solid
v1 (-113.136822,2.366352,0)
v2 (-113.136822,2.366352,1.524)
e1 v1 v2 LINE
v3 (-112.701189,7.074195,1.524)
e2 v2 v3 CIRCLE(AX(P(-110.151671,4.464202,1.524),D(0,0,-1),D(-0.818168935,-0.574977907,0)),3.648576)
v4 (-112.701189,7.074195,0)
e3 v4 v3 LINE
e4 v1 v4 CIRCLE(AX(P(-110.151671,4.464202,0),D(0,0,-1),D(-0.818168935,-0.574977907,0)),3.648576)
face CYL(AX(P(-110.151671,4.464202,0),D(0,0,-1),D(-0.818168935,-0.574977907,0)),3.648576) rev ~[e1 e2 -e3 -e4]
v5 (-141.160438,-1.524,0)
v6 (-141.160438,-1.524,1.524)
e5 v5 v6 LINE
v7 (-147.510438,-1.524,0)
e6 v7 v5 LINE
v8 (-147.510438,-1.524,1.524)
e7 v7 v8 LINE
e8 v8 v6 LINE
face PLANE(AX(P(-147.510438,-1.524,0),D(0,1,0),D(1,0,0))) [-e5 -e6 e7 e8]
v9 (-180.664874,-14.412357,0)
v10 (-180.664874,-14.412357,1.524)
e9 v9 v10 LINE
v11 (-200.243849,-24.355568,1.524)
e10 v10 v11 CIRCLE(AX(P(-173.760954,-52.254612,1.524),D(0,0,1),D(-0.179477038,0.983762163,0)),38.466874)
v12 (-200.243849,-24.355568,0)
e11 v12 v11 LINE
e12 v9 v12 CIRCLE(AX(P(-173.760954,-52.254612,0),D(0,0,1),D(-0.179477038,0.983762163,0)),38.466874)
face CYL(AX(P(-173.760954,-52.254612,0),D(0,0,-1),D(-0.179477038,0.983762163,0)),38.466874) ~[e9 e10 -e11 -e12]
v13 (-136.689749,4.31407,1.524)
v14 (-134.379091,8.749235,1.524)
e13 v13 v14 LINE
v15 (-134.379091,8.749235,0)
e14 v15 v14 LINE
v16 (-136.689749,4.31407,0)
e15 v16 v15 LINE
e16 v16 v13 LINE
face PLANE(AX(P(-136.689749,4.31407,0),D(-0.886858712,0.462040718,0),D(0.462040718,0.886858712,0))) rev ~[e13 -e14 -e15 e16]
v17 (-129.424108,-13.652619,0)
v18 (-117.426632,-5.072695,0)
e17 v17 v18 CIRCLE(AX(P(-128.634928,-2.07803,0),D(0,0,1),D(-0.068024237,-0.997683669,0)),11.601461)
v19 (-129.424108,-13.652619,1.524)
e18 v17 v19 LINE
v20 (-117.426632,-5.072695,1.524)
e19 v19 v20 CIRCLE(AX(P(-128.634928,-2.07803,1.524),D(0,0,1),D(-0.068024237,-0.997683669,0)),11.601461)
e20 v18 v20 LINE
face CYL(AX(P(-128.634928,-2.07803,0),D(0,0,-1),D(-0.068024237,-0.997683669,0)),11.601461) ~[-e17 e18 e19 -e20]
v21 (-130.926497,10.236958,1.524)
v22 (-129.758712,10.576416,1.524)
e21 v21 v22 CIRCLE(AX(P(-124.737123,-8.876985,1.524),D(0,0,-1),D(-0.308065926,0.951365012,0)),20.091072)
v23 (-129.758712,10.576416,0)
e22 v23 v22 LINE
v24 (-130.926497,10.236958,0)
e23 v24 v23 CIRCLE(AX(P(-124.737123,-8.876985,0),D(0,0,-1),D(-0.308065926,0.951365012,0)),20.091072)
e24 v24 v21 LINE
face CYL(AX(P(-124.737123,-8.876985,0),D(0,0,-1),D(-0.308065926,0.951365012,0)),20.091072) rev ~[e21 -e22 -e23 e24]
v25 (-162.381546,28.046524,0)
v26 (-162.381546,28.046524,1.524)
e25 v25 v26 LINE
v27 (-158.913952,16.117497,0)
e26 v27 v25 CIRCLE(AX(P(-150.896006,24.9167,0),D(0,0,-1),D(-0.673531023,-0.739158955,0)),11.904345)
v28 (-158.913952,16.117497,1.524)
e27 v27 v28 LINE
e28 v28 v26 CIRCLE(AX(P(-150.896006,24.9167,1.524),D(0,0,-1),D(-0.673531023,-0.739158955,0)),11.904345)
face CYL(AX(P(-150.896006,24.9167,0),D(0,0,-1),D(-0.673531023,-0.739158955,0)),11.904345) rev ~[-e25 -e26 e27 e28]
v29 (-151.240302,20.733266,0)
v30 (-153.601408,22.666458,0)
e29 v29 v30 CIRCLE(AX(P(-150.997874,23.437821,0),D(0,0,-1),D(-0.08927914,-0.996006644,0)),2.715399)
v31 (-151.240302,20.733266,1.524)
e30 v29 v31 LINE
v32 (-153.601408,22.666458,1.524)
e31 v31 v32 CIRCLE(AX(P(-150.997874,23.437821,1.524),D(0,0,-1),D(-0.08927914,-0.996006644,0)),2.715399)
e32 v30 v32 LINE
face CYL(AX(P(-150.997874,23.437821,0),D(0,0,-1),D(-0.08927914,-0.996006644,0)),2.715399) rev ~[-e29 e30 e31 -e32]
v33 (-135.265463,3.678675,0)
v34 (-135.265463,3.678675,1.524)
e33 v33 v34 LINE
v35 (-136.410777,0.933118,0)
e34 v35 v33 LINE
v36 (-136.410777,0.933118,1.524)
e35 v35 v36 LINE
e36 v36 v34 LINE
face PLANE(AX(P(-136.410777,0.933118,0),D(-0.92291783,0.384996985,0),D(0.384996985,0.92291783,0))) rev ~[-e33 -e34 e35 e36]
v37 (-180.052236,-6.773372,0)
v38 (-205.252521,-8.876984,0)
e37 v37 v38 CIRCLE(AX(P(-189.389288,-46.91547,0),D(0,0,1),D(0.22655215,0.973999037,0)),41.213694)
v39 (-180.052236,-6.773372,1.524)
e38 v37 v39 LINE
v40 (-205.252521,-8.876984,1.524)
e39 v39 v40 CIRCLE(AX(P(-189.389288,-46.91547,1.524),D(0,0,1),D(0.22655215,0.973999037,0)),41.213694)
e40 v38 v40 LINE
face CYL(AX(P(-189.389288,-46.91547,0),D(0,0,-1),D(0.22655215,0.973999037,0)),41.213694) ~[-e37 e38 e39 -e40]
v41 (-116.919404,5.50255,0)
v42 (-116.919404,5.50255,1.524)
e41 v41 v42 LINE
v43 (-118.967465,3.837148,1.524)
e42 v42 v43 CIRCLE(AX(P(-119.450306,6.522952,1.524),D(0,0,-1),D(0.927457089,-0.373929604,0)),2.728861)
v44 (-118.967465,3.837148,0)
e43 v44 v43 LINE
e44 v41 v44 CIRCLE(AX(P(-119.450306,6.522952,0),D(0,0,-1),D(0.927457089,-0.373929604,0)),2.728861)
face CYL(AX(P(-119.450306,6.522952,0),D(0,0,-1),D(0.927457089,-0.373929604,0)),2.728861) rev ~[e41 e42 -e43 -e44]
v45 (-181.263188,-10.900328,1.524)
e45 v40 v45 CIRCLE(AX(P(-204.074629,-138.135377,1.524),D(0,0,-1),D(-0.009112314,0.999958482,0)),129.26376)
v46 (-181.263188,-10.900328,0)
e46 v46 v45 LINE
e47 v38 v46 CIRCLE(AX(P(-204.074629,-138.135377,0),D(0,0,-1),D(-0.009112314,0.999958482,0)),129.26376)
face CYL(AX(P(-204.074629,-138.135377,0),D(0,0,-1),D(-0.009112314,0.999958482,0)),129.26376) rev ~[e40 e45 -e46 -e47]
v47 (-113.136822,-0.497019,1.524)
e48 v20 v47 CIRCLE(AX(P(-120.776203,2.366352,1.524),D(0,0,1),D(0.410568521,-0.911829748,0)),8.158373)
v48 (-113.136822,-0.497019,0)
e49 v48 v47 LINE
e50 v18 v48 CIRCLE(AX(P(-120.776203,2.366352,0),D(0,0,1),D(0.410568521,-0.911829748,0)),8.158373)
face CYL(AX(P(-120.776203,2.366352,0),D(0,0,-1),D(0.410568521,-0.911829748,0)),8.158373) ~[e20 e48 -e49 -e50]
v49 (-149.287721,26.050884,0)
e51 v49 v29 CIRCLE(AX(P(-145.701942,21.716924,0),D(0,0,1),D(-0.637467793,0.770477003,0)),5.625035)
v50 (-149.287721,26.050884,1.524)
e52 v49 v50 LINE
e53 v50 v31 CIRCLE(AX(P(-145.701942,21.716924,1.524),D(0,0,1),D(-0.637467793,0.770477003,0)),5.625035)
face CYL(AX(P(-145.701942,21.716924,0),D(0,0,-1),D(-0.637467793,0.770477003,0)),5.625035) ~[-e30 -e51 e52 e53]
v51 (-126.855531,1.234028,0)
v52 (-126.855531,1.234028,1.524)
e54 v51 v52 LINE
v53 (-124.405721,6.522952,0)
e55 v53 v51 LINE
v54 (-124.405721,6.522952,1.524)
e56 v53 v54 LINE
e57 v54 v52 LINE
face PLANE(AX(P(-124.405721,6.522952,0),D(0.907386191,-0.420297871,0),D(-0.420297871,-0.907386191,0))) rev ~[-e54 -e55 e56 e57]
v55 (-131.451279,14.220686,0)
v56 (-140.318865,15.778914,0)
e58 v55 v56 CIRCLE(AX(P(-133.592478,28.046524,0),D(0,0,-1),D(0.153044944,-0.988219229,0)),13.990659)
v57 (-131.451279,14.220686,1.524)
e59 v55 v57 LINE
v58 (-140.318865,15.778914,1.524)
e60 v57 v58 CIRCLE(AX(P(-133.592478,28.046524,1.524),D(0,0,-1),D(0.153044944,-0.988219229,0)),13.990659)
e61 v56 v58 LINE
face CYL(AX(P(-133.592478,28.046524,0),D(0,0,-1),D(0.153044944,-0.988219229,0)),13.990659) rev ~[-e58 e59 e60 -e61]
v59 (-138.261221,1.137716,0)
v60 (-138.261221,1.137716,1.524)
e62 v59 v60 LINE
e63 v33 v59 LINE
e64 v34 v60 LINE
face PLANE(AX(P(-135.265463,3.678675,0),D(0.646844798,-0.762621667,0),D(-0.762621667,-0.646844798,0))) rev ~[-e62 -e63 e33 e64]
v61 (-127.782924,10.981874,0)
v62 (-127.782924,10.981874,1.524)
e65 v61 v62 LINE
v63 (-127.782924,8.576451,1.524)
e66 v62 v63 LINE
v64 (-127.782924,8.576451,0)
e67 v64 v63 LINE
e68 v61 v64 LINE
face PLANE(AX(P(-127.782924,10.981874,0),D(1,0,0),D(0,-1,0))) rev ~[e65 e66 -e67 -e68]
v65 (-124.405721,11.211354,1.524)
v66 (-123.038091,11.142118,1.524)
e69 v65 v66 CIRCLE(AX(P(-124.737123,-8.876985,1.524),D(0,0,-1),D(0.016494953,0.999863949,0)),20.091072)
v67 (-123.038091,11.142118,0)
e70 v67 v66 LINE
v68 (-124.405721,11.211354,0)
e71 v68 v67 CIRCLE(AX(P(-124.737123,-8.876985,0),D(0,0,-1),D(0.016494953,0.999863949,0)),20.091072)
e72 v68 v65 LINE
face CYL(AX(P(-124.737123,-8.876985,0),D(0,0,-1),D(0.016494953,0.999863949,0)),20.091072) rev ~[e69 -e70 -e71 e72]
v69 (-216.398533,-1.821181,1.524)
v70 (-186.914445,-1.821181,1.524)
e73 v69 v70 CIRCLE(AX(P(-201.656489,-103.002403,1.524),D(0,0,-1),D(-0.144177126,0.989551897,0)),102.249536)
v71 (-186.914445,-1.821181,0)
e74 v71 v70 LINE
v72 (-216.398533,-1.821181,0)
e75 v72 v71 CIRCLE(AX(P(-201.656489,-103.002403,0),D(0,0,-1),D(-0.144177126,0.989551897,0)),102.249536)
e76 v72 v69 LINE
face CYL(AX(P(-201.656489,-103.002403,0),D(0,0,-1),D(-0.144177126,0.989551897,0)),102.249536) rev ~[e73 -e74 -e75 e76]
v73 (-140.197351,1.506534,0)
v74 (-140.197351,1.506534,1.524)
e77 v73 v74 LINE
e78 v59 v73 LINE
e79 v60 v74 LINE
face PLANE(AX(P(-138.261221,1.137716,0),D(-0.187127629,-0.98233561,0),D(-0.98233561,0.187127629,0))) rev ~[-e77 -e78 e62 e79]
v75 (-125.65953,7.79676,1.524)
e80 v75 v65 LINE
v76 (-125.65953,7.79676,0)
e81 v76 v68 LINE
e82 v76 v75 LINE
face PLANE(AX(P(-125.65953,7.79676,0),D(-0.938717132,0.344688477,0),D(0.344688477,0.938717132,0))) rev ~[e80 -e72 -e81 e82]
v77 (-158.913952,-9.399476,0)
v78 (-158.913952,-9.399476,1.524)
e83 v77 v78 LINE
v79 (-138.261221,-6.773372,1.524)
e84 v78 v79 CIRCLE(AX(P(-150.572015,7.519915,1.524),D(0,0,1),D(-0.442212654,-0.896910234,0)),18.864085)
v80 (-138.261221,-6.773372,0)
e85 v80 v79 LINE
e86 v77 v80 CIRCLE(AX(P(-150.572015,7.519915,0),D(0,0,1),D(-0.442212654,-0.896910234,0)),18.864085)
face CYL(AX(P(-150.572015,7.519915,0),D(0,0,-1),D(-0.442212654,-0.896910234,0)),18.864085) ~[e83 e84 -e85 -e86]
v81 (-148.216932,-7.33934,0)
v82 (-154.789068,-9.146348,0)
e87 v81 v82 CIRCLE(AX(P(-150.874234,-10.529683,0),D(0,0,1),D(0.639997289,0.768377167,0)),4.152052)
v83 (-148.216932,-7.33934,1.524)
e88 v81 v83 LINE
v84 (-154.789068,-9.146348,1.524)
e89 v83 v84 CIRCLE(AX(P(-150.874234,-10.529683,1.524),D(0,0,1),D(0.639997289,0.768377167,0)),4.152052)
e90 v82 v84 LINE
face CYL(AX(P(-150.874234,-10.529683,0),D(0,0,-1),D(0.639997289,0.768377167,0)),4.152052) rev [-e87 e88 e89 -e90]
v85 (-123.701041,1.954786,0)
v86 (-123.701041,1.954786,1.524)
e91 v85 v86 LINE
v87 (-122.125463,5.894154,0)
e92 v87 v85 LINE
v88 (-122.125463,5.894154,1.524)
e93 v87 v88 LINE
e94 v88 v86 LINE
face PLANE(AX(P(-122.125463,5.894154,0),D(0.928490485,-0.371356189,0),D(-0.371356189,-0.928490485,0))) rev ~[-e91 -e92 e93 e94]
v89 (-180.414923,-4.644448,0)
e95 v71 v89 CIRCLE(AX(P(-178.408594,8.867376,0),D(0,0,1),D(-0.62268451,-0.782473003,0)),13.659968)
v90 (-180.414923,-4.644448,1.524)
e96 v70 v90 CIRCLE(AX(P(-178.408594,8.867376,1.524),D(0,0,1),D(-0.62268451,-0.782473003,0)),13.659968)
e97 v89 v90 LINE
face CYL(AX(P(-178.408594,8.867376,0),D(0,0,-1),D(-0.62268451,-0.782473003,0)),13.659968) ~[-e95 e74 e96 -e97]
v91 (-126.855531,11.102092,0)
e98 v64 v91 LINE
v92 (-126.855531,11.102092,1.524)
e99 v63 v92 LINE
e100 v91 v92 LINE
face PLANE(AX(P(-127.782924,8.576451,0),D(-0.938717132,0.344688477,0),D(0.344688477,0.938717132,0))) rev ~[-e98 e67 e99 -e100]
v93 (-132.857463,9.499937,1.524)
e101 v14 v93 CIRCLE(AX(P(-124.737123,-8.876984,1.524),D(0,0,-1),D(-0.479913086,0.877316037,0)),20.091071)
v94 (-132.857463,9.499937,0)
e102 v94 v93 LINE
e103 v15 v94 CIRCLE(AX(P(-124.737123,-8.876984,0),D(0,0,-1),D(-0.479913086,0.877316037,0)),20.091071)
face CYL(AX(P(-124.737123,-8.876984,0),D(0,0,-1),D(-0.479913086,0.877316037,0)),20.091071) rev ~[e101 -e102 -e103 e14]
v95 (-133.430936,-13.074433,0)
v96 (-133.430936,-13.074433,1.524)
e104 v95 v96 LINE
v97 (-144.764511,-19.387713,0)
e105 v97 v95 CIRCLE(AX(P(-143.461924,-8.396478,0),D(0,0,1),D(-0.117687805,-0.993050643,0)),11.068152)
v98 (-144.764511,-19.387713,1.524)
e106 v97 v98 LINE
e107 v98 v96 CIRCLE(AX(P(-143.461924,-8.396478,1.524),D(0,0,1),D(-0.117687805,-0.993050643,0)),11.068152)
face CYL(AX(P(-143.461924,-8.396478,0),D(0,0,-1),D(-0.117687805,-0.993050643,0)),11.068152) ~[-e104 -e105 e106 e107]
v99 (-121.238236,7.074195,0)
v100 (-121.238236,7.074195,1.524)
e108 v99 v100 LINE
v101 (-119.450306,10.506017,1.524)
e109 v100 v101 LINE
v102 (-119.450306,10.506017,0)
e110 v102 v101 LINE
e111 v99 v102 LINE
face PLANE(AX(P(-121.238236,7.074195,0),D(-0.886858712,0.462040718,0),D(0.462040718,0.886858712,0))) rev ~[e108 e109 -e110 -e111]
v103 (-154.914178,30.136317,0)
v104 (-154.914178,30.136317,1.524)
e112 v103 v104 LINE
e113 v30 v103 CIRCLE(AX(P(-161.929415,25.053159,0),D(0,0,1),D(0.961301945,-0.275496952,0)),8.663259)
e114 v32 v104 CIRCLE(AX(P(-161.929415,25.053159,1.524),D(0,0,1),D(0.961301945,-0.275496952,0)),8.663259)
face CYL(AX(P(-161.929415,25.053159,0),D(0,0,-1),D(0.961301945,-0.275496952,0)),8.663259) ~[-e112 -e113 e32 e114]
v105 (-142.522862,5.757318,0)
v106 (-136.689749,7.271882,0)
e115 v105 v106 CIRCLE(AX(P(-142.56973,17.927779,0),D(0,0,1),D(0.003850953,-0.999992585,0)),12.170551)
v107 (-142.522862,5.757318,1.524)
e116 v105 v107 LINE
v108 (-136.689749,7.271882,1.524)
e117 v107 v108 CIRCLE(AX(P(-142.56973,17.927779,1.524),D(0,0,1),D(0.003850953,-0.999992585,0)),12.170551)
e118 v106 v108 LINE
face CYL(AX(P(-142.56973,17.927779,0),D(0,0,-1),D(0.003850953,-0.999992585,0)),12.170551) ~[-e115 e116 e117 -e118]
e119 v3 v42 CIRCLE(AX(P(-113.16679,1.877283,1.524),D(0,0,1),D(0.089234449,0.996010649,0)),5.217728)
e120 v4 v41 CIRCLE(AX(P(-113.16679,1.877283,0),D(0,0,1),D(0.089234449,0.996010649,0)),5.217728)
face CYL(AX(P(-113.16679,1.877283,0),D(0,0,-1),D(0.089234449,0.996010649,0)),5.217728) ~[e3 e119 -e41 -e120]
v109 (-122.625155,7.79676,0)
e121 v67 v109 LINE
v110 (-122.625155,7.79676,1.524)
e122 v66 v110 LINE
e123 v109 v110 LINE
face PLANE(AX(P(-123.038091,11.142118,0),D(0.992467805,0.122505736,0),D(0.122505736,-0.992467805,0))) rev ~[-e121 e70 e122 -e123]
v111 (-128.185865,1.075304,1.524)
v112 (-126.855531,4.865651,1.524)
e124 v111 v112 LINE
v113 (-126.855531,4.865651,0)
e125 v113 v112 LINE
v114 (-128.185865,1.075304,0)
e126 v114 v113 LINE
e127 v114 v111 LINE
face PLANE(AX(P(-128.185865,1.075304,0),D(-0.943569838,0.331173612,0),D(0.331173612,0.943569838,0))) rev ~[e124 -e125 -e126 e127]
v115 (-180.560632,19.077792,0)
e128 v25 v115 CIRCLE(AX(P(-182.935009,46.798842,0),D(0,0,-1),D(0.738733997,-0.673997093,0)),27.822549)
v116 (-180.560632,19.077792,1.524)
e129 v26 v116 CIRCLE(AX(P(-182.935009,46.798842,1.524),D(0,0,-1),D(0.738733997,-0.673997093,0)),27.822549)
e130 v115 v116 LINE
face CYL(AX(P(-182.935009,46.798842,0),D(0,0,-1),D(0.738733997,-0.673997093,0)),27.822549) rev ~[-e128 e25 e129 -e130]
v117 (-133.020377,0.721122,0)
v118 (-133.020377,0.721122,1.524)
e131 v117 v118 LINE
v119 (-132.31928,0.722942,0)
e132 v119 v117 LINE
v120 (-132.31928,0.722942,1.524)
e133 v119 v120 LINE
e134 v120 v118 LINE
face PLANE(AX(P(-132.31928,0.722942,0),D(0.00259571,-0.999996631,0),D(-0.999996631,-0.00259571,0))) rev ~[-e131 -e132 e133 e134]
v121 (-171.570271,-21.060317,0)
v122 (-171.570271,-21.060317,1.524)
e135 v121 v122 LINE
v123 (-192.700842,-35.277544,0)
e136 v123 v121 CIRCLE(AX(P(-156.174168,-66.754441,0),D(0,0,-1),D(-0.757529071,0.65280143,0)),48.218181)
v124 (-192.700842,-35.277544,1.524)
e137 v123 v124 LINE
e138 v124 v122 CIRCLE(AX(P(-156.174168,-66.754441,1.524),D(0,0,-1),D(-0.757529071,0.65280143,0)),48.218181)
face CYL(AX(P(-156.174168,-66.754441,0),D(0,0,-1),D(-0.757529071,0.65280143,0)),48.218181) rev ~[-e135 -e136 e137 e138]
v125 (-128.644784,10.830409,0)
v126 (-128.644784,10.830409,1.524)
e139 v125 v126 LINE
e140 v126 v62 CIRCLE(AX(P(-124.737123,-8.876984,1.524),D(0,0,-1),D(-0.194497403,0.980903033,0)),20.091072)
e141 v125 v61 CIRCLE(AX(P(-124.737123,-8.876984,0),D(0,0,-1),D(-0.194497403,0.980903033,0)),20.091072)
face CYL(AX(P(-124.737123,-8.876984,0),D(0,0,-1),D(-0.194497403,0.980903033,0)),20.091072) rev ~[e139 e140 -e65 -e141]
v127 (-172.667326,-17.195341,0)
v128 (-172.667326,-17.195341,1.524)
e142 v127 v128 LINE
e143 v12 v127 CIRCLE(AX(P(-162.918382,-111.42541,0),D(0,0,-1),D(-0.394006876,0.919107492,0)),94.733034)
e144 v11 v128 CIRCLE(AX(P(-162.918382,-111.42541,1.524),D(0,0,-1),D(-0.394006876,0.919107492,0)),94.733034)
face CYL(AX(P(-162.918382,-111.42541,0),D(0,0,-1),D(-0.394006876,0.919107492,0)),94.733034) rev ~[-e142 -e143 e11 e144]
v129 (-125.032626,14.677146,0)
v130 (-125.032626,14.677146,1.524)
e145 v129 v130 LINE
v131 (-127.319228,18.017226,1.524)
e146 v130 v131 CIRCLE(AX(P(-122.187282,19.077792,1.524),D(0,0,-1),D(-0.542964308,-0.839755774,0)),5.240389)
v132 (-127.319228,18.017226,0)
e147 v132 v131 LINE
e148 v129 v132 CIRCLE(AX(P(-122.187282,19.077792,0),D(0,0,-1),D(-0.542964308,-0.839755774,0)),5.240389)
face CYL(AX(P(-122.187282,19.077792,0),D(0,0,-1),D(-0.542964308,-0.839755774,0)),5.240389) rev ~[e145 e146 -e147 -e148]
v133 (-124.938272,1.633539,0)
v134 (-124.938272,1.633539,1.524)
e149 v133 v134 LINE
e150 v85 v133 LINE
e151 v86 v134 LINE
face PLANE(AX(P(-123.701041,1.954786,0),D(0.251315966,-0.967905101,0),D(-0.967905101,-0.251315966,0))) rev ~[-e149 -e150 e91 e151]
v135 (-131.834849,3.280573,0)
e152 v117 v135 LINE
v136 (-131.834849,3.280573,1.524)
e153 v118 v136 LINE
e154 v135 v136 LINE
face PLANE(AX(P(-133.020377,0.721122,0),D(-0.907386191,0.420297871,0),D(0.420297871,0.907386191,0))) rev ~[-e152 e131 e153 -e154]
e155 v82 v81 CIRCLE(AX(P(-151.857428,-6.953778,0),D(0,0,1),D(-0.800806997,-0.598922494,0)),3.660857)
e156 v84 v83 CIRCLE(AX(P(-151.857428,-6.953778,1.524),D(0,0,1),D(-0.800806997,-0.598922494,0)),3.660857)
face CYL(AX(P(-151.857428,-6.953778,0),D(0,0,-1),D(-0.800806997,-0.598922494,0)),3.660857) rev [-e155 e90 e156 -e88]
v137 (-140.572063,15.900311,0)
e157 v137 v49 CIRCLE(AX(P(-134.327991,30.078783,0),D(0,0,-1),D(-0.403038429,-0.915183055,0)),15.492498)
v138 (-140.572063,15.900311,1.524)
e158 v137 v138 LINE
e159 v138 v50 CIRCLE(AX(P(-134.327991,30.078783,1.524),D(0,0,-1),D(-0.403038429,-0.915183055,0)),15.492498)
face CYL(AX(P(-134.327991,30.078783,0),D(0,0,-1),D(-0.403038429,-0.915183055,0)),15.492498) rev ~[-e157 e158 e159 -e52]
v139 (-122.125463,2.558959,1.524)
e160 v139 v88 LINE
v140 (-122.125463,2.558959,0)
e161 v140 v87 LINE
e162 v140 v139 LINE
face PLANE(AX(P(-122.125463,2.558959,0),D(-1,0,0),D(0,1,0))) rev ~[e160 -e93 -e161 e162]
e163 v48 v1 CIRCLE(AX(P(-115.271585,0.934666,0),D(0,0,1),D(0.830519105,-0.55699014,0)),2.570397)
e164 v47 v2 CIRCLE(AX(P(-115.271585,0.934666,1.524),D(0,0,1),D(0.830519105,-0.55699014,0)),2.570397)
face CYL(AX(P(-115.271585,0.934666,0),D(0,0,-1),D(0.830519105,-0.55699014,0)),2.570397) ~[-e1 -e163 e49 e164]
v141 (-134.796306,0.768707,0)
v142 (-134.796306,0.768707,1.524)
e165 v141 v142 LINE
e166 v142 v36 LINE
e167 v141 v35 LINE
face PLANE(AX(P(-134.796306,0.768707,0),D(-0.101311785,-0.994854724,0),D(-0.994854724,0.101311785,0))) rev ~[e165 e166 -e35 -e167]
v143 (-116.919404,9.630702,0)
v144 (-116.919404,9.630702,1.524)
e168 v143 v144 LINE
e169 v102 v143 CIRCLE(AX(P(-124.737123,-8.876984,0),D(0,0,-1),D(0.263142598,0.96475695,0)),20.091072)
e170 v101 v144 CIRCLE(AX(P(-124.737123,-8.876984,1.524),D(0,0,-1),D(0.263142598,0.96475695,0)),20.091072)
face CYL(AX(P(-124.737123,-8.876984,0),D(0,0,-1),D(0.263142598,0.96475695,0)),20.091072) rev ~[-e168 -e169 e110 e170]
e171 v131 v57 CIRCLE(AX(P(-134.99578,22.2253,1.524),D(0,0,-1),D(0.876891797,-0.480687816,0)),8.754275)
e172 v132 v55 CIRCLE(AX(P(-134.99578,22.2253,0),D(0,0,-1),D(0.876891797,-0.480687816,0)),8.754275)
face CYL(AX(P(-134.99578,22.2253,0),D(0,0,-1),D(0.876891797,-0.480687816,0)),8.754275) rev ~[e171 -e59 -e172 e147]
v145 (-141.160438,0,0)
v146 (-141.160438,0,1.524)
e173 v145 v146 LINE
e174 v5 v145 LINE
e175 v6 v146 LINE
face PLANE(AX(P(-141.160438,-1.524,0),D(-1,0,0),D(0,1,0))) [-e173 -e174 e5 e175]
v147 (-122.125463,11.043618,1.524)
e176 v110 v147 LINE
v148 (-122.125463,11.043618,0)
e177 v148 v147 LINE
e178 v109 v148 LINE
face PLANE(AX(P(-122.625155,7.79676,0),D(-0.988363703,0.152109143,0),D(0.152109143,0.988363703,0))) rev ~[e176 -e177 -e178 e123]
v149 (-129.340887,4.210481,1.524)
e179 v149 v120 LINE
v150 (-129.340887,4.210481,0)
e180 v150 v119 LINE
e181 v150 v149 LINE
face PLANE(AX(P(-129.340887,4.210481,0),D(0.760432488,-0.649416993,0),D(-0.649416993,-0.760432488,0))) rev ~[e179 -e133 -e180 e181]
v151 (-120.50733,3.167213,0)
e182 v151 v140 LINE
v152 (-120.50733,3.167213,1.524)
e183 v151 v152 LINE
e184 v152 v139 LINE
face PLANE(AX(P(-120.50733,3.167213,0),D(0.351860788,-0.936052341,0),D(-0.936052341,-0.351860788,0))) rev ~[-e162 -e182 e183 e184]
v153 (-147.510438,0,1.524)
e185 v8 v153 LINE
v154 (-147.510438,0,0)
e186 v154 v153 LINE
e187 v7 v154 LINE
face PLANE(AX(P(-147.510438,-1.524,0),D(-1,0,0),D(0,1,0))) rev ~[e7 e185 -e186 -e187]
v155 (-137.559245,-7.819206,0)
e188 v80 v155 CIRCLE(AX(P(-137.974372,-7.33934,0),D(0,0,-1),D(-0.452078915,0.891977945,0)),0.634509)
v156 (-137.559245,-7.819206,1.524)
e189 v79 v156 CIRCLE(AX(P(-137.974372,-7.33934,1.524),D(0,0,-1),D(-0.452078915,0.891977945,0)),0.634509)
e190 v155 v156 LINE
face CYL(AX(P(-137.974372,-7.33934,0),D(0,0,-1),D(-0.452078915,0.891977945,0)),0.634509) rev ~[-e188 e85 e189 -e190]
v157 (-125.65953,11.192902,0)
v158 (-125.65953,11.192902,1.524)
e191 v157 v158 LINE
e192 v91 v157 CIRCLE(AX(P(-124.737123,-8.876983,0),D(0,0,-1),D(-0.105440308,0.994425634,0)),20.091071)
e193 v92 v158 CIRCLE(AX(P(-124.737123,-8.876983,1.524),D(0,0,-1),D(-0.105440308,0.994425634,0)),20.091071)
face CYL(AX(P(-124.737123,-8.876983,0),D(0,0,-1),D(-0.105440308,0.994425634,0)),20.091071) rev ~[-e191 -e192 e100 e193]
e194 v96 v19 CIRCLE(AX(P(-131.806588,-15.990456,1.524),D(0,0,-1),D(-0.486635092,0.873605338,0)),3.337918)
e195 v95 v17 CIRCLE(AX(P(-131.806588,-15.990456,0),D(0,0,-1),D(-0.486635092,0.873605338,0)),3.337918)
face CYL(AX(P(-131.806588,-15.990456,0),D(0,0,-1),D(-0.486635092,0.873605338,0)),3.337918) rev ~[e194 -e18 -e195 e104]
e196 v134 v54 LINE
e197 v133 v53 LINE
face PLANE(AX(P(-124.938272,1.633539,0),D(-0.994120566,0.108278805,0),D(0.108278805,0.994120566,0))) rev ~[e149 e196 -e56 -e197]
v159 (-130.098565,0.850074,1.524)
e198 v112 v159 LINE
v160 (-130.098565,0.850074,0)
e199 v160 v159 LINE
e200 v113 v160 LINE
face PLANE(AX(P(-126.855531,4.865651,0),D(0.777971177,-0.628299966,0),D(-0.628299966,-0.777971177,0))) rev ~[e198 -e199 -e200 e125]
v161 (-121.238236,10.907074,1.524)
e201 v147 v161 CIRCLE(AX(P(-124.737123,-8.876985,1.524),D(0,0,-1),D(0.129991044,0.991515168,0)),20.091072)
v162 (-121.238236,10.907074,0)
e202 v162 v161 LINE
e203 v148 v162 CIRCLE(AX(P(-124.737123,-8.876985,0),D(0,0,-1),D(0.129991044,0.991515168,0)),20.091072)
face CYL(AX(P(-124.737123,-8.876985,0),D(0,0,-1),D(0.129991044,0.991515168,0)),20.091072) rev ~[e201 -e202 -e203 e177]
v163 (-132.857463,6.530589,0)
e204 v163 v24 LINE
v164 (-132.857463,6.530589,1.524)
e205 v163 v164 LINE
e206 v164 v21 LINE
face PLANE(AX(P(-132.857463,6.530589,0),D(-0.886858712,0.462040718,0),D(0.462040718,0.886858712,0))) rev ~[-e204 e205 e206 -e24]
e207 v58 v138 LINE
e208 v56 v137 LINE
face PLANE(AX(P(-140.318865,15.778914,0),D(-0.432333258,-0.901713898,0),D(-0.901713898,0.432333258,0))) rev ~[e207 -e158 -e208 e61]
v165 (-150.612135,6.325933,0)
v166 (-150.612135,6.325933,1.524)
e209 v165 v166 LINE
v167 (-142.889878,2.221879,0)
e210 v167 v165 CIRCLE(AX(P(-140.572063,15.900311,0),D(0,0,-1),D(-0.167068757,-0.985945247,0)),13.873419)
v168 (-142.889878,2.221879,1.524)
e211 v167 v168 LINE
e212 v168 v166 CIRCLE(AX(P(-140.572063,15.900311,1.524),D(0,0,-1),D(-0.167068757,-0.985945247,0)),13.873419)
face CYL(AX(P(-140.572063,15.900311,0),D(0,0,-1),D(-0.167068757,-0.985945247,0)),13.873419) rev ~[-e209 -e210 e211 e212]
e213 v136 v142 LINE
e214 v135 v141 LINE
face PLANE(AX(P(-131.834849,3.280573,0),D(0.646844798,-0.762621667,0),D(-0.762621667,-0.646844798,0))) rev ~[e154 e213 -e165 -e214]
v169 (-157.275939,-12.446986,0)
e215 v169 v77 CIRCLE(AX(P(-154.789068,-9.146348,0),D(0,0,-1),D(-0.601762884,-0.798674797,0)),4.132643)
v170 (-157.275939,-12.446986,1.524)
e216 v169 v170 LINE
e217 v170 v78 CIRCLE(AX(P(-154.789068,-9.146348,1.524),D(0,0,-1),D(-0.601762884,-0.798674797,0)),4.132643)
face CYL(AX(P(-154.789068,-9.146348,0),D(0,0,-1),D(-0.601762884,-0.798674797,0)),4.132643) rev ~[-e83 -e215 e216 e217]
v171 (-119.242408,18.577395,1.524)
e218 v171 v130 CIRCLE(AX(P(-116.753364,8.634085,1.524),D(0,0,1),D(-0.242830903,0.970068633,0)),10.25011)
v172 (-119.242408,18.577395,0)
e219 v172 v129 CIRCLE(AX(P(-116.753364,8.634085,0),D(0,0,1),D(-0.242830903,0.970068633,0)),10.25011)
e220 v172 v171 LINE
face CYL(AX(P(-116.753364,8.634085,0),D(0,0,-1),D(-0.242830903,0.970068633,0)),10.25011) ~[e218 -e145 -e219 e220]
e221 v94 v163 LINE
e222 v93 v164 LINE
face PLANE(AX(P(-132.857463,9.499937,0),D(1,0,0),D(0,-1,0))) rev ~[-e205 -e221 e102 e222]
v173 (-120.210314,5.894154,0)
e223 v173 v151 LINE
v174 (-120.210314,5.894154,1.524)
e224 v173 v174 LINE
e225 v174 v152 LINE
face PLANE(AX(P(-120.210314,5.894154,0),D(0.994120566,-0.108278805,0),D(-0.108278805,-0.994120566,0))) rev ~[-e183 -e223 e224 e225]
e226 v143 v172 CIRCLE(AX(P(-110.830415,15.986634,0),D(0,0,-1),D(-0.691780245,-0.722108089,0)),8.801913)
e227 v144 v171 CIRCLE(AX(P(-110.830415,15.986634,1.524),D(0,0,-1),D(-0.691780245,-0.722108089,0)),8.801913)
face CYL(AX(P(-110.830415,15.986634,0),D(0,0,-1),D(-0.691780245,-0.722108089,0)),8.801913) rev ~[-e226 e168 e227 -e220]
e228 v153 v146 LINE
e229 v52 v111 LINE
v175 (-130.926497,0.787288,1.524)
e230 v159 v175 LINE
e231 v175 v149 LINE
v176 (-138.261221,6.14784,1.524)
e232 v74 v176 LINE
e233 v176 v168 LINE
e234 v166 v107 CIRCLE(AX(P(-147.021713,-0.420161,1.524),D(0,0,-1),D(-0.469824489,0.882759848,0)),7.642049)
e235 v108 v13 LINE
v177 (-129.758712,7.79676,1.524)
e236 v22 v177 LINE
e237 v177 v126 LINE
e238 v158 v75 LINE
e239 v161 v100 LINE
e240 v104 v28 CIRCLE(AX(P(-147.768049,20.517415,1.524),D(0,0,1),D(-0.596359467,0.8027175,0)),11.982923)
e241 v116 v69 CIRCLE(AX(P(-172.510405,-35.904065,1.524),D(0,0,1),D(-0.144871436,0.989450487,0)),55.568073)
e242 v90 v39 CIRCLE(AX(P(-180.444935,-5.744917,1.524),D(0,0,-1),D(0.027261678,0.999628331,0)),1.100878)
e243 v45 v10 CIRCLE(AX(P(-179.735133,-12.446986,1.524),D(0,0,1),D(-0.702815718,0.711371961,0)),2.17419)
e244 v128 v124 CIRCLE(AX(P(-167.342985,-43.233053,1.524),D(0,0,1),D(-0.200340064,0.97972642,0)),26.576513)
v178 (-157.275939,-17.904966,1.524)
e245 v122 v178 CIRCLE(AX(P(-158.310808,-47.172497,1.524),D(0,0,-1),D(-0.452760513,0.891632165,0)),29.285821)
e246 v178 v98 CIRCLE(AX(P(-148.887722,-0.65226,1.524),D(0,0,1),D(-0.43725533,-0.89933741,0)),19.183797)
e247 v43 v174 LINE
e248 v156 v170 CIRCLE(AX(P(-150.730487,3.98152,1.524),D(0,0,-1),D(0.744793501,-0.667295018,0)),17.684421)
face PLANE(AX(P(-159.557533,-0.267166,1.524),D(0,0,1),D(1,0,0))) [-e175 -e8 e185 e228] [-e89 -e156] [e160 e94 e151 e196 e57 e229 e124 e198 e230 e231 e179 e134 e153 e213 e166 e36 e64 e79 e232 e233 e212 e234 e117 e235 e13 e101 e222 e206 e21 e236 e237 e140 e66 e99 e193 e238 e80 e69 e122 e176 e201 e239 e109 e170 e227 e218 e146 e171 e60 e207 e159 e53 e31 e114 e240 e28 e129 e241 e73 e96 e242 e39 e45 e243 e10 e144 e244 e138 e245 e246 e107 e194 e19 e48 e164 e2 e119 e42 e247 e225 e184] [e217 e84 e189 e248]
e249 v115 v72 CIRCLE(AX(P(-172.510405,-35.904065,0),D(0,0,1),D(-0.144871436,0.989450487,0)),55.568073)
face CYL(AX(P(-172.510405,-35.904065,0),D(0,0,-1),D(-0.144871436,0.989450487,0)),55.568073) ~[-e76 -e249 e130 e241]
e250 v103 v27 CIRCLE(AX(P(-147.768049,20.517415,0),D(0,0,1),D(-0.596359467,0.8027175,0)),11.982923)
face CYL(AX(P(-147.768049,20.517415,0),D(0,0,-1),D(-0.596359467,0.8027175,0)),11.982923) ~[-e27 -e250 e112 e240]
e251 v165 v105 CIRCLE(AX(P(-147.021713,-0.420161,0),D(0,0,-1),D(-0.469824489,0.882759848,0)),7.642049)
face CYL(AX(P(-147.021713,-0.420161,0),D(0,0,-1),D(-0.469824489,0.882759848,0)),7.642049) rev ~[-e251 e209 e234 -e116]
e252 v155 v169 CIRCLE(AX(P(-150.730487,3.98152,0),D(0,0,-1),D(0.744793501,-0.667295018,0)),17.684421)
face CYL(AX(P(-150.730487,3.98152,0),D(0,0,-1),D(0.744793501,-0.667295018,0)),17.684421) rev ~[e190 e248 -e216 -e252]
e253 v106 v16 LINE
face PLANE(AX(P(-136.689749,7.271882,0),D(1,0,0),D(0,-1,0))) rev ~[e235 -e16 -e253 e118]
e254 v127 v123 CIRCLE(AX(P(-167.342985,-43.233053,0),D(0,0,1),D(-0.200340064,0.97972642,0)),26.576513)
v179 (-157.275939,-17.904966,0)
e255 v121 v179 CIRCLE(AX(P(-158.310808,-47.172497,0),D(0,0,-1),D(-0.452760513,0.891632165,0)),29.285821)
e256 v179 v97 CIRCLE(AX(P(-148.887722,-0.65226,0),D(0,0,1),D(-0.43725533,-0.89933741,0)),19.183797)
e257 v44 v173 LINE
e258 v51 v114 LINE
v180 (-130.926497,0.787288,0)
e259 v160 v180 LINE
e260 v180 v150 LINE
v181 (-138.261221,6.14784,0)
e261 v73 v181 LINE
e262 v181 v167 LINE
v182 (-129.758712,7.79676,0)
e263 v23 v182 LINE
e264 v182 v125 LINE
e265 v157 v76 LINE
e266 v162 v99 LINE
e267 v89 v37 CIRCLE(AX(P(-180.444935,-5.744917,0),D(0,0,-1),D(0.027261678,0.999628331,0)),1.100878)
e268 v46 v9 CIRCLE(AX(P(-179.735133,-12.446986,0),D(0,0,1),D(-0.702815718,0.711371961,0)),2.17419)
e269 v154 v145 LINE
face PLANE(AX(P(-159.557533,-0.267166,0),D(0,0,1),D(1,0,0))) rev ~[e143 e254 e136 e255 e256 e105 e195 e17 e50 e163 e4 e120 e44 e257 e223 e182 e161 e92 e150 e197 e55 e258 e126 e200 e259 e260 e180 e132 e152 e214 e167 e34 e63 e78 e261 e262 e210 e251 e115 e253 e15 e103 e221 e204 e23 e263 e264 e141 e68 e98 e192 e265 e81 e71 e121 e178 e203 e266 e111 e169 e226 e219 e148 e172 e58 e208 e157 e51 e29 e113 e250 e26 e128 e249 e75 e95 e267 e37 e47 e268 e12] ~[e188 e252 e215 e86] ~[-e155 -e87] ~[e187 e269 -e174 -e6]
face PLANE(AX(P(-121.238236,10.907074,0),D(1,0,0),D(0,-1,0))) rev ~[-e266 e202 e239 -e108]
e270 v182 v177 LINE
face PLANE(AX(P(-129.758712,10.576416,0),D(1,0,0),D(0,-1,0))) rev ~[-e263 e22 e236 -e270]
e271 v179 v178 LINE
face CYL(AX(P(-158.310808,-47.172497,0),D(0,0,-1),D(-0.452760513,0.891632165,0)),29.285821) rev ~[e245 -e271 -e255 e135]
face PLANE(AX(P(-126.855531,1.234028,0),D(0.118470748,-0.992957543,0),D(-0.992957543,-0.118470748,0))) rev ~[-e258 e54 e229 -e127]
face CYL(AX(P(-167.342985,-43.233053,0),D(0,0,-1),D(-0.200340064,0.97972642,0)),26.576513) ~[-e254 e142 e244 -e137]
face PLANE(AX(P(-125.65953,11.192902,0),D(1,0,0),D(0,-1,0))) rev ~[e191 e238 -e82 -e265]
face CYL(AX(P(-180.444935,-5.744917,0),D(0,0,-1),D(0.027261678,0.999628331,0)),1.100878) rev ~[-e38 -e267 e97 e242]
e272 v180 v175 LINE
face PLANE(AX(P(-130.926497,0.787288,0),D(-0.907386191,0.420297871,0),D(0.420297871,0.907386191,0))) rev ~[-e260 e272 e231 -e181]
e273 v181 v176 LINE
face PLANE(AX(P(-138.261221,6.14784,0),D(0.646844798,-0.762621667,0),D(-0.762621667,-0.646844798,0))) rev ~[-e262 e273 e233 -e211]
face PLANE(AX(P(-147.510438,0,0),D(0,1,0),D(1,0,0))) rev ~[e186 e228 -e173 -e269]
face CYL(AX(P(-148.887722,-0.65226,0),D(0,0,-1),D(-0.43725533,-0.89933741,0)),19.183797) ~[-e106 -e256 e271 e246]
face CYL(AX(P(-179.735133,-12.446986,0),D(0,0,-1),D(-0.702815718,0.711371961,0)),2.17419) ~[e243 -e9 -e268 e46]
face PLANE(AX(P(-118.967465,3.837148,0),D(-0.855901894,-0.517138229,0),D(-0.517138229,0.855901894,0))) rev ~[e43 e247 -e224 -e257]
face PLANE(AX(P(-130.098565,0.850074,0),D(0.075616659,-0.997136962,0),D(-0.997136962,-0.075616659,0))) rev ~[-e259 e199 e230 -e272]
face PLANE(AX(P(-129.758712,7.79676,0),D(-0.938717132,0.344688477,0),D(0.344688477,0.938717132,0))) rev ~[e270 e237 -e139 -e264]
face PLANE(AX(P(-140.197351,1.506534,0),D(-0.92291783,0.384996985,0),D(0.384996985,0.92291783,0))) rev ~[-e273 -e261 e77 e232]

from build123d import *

# Parameters (mm, degrees)
SKETCH1_W           = 6.35
SKETCH1_H           = 1.524
BOSS_EXTRUDE1_DEPTH = 1.524


with BuildPart() as part:
    # Sketch1 → Boss-Extrude1 (new body)
    with BuildSketch(Plane.XY):
        with BuildLine():
            Line((-118.967464928, 3.837147512), (-120.210313768, 5.894153968))
            Line((-120.210313768, 5.894153968), (-120.507329985, 3.167212811))
            Line((-120.507329985, 3.167212811), (-122.125463269, 2.558958735))
            Line((-122.125463269, 2.558958735), (-122.125463269, 5.894153968))
            Line((-122.125463269, 5.894153968), (-123.701040917, 1.954785522))
            Line((-123.701040917, 1.954785522), (-124.938272303, 1.633539151))
            Line((-124.938272303, 1.633539151), (-124.405721371, 6.522952497))
            Line((-124.405721371, 6.522952497), (-126.85553137, 1.234027863))
            Line((-126.85553137, 1.234027863), (-128.185864984, 1.075304442))
            Line((-128.185864984, 1.075304442), (-126.85553137, 4.86565074))
            Line((-126.85553137, 4.86565074), (-130.098565327, 0.850073658))
            Line((-130.098565327, 0.850073658), (-130.926497191, 0.78728846))
            Line((-130.926497191, 0.78728846), (-129.340887254, 4.210481059))
            Line((-129.340887254, 4.210481059), (-132.319280434, 0.722942299))
            Line((-132.319280434, 0.722942299), (-133.020376887, 0.72112245))
            Line((-133.020376887, 0.72112245), (-131.834849185, 3.28057264))
            Line((-131.834849185, 3.28057264), (-134.796306141, 0.76870718))
            Line((-134.796306141, 0.76870718), (-136.410777473, 0.933118092))
            Line((-136.410777473, 0.933118092), (-135.265463132, 3.678674725))
            Line((-135.265463132, 3.678674725), (-138.261220774, 1.137715912))
            Line((-138.261220774, 1.137715912), (-140.197350719, 1.50653427))
            Line((-140.197350719, 1.50653427), (-138.261220774, 6.147840352))
            Line((-138.261220774, 6.147840352), (-142.88987797, 2.221879477))
            ThreePointArc((-142.88987797, 2.221879477), (-147.08283508, 3.64953129), (-150.612134583, 6.325932612))
            ThreePointArc((-150.612134583, 6.325932612), (-146.485856937, 7.203077476), (-142.522861876, 5.757317996))
            ThreePointArc((-142.522861876, 5.757317996), (-139.511076326, 6.147840352), (-136.689748679, 7.271882262))
            Line((-136.689748679, 7.271882262), (-136.689748679, 4.31406956))
            Line((-136.689748679, 4.31406956), (-134.379090787, 8.749235121))
            ThreePointArc((-134.379090787, 8.749235121), (-133.626205107, 9.140656329), (-132.857462763, 9.499937023))
            Line((-132.857462763, 9.499937023), (-132.857462763, 6.530588828))
            Line((-132.857462763, 6.530588828), (-130.926497191, 10.236958357))
            ThreePointArc((-130.926497191, 10.236958357), (-130.345173873, 10.415525196), (-129.75871249, 10.576416347))
            Line((-129.75871249, 10.576416347), (-129.75871249, 7.796759722))
            Line((-129.75871249, 7.796759722), (-128.644783844, 10.830408865))
            ThreePointArc((-128.644783844, 10.830408865), (-128.214678718, 10.910834307), (-127.782924128, 10.981874047))
            Line((-127.782924128, 10.981874047), (-127.782924128, 8.576451057))
            Line((-127.782924128, 8.576451057), (-126.85553137, 11.102092407))
            ThreePointArc((-126.85553137, 11.102092407), (-126.258208322, 11.156424297), (-125.659529634, 11.192901774))
            Line((-125.659529634, 11.192901774), (-125.659529634, 7.796759722))
            Line((-125.659529634, 7.796759722), (-124.405721372, 11.211353983))
            ThreePointArc((-124.405721372, 11.211353983), (-123.721315902, 11.188391312), (-123.038090537, 11.142117871))
            Line((-123.038090537, 11.142117871), (-122.625154661, 7.796759722))
            Line((-122.625154661, 7.796759722), (-122.125463269, 11.04361803))
            ThreePointArc((-122.125463269, 11.04361803), (-121.68108693, 10.980301708), (-121.238235987, 10.907073779))
            Line((-121.238235987, 10.907073779), (-121.238235987, 7.074194908))
            Line((-121.238235987, 7.074194908), (-119.450305834, 10.506016758))
            ThreePointArc((-119.450305834, 10.506016758), (-118.170254613, 10.11057495), (-116.919404117, 9.630701645))
            ThreePointArc((-116.919404117, 9.630701645), (-119.349830951, 13.774572734), (-119.242407582, 18.577395072))
            ThreePointArc((-119.242407582, 18.577395072), (-122.479801343, 17.135418403), (-125.032625503, 14.677145863))
            ThreePointArc((-125.032625503, 14.677145863), (-126.511437413, 16.117497101), (-127.319227749, 18.017226326))
            ThreePointArc((-127.319227749, 18.017226326), (-129.072821157, 15.778913608), (-131.451278595, 14.220685806))
            ThreePointArc((-131.451278595, 14.220685806), (-136.013842114, 14.266990808), (-140.318864701, 15.778913608))
            Line((-140.318864701, 15.778913608), (-140.572063038, 15.900311384))
            ThreePointArc((-140.572063038, 15.900311384), (-146.082089593, 19.986277928), (-149.28772088, 26.05088371))
            ThreePointArc((-149.28772088, 26.05088371), (-150.98225883, 23.655808523), (-151.240302387, 20.733265531))
            ThreePointArc((-151.240302387, 20.733265531), (-152.718101686, 21.336819353), (-153.601407922, 22.66645768))
            ThreePointArc((-153.601407922, 22.66645768), (-153.396919216, 26.552679329), (-154.91417797, 30.136317175))
            ThreePointArc((-154.91417797, 30.136317175), (-159.291131596, 23.805118938), (-158.91395171, 16.117497101))
            ThreePointArc((-158.91395171, 16.117497101), (-162.327187611, 21.593822413), (-162.381546066, 28.046524436))
            ThreePointArc((-162.381546066, 28.046524436), (-170.625215942, 21.84762456), (-180.560631507, 19.077792393))
            ThreePointArc((-180.560631507, 19.077792393), (-200.503081439, 12.098235462), (-216.39853294, -1.821180682))
            ThreePointArc((-216.39853294, -1.821180682), (-201.656488756, -0.752866976), (-186.914444571, -1.821180682))
            ThreePointArc((-186.914444571, -1.821180682), (-183.850945452, -3.661612396), (-180.414923023, -4.644447892))
            ThreePointArc((-180.414923023, -4.644447892), (-179.359692742, -5.560033265), (-180.052236488, -6.773371915))
            ThreePointArc((-180.052236488, -6.773371915), (-192.817706831, -5.844622664), (-205.252520527, -8.876984225))
            ThreePointArc((-205.252520527, -8.876984225), (-193.210647633, -9.328958481), (-181.263188413, -10.900327847))
            ThreePointArc((-181.263188413, -10.900327847), (-181.878443359, -12.812123131), (-180.664874061, -14.412357306))
            ThreePointArc((-180.664874061, -14.412357306), (-191.17895358, -17.957183031), (-200.243848586, -24.35556846))
            ThreePointArc((-200.243848586, -24.35556846), (-186.726305796, -19.732822879), (-172.667325525, -17.19534115))
            ThreePointArc((-172.667325525, -17.19534115), (-185.150029357, -23.504388145), (-192.700842194, -35.277543815))
            ThreePointArc((-192.700842194, -35.277543815), (-183.0911903, -26.748605396), (-171.570271252, -21.060317047))
            ThreePointArc((-171.570271252, -21.060317047), (-164.623433194, -18.575118247), (-157.275939172, -17.904966269))
            ThreePointArc((-157.275939172, -17.904966269), (-151.145420538, -19.702741956), (-144.764510502, -19.387712987))
            ThreePointArc((-144.764510502, -19.387712987), (-138.075773009, -18.065674232), (-133.430936261, -13.074433174))
            ThreePointArc((-133.430936261, -13.074433174), (-131.329864526, -12.686756633), (-129.424108432, -13.652618554))
            ThreePointArc((-129.424108432, -13.652618554), (-121.886353154, -11.514694937), (-117.426632435, -5.072695004))
            ThreePointArc((-117.426632435, -5.072695004), (-114.82444132, -3.21357396), (-113.136821812, -0.497019148))
            ThreePointArc((-113.136821812, -0.497019148), (-112.701188688, 0.934666439), (-113.136821812, 2.366352026))
            ThreePointArc((-113.136821812, 2.366352026), (-113.78472542, 4.800381574), (-112.701188688, 7.074194908))
            ThreePointArc((-112.701188688, 7.074194908), (-114.988500666, 6.766664074), (-116.919404117, 5.502550489))
            ThreePointArc((-116.919404117, 5.502550489), (-117.728663328, 4.405730062), (-118.967464928, 3.837147512))
        make_face()
        with Locations((-144.335438151, -0.762)):
            Rectangle(SKETCH1_W, SKETCH1_H, mode=Mode.SUBTRACT)
        with BuildLine():
            ThreePointArc((-137.559244953, -7.819206053), (-146.689526794, -13.235024078), (-157.275939172, -12.446985783))
            ThreePointArc((-157.275939172, -12.446985783), (-158.429212855, -11.102896957), (-158.91395171, -9.399475928))
            ThreePointArc((-158.91395171, -9.399475928), (-148.192505964, -11.193493039), (-138.261220774, -6.773371915))
            ThreePointArc((-138.261220774, -6.773371915), (-137.447536507, -6.985721903), (-137.559244953, -7.819206053))
        make_face(mode=Mode.SUBTRACT)
        with BuildLine():
            ThreePointArc((-148.216931549, -7.339340233), (-151.974990586, -6.526199766), (-154.789067747, -9.14634764))
            ThreePointArc((-154.789067747, -9.14634764), (-150.886892893, -10.483641343), (-148.216931549, -7.339340233))
        make_face(mode=Mode.SUBTRACT)
    extrude(amount=BOSS_EXTRUDE1_DEPTH)


solid = part.part
